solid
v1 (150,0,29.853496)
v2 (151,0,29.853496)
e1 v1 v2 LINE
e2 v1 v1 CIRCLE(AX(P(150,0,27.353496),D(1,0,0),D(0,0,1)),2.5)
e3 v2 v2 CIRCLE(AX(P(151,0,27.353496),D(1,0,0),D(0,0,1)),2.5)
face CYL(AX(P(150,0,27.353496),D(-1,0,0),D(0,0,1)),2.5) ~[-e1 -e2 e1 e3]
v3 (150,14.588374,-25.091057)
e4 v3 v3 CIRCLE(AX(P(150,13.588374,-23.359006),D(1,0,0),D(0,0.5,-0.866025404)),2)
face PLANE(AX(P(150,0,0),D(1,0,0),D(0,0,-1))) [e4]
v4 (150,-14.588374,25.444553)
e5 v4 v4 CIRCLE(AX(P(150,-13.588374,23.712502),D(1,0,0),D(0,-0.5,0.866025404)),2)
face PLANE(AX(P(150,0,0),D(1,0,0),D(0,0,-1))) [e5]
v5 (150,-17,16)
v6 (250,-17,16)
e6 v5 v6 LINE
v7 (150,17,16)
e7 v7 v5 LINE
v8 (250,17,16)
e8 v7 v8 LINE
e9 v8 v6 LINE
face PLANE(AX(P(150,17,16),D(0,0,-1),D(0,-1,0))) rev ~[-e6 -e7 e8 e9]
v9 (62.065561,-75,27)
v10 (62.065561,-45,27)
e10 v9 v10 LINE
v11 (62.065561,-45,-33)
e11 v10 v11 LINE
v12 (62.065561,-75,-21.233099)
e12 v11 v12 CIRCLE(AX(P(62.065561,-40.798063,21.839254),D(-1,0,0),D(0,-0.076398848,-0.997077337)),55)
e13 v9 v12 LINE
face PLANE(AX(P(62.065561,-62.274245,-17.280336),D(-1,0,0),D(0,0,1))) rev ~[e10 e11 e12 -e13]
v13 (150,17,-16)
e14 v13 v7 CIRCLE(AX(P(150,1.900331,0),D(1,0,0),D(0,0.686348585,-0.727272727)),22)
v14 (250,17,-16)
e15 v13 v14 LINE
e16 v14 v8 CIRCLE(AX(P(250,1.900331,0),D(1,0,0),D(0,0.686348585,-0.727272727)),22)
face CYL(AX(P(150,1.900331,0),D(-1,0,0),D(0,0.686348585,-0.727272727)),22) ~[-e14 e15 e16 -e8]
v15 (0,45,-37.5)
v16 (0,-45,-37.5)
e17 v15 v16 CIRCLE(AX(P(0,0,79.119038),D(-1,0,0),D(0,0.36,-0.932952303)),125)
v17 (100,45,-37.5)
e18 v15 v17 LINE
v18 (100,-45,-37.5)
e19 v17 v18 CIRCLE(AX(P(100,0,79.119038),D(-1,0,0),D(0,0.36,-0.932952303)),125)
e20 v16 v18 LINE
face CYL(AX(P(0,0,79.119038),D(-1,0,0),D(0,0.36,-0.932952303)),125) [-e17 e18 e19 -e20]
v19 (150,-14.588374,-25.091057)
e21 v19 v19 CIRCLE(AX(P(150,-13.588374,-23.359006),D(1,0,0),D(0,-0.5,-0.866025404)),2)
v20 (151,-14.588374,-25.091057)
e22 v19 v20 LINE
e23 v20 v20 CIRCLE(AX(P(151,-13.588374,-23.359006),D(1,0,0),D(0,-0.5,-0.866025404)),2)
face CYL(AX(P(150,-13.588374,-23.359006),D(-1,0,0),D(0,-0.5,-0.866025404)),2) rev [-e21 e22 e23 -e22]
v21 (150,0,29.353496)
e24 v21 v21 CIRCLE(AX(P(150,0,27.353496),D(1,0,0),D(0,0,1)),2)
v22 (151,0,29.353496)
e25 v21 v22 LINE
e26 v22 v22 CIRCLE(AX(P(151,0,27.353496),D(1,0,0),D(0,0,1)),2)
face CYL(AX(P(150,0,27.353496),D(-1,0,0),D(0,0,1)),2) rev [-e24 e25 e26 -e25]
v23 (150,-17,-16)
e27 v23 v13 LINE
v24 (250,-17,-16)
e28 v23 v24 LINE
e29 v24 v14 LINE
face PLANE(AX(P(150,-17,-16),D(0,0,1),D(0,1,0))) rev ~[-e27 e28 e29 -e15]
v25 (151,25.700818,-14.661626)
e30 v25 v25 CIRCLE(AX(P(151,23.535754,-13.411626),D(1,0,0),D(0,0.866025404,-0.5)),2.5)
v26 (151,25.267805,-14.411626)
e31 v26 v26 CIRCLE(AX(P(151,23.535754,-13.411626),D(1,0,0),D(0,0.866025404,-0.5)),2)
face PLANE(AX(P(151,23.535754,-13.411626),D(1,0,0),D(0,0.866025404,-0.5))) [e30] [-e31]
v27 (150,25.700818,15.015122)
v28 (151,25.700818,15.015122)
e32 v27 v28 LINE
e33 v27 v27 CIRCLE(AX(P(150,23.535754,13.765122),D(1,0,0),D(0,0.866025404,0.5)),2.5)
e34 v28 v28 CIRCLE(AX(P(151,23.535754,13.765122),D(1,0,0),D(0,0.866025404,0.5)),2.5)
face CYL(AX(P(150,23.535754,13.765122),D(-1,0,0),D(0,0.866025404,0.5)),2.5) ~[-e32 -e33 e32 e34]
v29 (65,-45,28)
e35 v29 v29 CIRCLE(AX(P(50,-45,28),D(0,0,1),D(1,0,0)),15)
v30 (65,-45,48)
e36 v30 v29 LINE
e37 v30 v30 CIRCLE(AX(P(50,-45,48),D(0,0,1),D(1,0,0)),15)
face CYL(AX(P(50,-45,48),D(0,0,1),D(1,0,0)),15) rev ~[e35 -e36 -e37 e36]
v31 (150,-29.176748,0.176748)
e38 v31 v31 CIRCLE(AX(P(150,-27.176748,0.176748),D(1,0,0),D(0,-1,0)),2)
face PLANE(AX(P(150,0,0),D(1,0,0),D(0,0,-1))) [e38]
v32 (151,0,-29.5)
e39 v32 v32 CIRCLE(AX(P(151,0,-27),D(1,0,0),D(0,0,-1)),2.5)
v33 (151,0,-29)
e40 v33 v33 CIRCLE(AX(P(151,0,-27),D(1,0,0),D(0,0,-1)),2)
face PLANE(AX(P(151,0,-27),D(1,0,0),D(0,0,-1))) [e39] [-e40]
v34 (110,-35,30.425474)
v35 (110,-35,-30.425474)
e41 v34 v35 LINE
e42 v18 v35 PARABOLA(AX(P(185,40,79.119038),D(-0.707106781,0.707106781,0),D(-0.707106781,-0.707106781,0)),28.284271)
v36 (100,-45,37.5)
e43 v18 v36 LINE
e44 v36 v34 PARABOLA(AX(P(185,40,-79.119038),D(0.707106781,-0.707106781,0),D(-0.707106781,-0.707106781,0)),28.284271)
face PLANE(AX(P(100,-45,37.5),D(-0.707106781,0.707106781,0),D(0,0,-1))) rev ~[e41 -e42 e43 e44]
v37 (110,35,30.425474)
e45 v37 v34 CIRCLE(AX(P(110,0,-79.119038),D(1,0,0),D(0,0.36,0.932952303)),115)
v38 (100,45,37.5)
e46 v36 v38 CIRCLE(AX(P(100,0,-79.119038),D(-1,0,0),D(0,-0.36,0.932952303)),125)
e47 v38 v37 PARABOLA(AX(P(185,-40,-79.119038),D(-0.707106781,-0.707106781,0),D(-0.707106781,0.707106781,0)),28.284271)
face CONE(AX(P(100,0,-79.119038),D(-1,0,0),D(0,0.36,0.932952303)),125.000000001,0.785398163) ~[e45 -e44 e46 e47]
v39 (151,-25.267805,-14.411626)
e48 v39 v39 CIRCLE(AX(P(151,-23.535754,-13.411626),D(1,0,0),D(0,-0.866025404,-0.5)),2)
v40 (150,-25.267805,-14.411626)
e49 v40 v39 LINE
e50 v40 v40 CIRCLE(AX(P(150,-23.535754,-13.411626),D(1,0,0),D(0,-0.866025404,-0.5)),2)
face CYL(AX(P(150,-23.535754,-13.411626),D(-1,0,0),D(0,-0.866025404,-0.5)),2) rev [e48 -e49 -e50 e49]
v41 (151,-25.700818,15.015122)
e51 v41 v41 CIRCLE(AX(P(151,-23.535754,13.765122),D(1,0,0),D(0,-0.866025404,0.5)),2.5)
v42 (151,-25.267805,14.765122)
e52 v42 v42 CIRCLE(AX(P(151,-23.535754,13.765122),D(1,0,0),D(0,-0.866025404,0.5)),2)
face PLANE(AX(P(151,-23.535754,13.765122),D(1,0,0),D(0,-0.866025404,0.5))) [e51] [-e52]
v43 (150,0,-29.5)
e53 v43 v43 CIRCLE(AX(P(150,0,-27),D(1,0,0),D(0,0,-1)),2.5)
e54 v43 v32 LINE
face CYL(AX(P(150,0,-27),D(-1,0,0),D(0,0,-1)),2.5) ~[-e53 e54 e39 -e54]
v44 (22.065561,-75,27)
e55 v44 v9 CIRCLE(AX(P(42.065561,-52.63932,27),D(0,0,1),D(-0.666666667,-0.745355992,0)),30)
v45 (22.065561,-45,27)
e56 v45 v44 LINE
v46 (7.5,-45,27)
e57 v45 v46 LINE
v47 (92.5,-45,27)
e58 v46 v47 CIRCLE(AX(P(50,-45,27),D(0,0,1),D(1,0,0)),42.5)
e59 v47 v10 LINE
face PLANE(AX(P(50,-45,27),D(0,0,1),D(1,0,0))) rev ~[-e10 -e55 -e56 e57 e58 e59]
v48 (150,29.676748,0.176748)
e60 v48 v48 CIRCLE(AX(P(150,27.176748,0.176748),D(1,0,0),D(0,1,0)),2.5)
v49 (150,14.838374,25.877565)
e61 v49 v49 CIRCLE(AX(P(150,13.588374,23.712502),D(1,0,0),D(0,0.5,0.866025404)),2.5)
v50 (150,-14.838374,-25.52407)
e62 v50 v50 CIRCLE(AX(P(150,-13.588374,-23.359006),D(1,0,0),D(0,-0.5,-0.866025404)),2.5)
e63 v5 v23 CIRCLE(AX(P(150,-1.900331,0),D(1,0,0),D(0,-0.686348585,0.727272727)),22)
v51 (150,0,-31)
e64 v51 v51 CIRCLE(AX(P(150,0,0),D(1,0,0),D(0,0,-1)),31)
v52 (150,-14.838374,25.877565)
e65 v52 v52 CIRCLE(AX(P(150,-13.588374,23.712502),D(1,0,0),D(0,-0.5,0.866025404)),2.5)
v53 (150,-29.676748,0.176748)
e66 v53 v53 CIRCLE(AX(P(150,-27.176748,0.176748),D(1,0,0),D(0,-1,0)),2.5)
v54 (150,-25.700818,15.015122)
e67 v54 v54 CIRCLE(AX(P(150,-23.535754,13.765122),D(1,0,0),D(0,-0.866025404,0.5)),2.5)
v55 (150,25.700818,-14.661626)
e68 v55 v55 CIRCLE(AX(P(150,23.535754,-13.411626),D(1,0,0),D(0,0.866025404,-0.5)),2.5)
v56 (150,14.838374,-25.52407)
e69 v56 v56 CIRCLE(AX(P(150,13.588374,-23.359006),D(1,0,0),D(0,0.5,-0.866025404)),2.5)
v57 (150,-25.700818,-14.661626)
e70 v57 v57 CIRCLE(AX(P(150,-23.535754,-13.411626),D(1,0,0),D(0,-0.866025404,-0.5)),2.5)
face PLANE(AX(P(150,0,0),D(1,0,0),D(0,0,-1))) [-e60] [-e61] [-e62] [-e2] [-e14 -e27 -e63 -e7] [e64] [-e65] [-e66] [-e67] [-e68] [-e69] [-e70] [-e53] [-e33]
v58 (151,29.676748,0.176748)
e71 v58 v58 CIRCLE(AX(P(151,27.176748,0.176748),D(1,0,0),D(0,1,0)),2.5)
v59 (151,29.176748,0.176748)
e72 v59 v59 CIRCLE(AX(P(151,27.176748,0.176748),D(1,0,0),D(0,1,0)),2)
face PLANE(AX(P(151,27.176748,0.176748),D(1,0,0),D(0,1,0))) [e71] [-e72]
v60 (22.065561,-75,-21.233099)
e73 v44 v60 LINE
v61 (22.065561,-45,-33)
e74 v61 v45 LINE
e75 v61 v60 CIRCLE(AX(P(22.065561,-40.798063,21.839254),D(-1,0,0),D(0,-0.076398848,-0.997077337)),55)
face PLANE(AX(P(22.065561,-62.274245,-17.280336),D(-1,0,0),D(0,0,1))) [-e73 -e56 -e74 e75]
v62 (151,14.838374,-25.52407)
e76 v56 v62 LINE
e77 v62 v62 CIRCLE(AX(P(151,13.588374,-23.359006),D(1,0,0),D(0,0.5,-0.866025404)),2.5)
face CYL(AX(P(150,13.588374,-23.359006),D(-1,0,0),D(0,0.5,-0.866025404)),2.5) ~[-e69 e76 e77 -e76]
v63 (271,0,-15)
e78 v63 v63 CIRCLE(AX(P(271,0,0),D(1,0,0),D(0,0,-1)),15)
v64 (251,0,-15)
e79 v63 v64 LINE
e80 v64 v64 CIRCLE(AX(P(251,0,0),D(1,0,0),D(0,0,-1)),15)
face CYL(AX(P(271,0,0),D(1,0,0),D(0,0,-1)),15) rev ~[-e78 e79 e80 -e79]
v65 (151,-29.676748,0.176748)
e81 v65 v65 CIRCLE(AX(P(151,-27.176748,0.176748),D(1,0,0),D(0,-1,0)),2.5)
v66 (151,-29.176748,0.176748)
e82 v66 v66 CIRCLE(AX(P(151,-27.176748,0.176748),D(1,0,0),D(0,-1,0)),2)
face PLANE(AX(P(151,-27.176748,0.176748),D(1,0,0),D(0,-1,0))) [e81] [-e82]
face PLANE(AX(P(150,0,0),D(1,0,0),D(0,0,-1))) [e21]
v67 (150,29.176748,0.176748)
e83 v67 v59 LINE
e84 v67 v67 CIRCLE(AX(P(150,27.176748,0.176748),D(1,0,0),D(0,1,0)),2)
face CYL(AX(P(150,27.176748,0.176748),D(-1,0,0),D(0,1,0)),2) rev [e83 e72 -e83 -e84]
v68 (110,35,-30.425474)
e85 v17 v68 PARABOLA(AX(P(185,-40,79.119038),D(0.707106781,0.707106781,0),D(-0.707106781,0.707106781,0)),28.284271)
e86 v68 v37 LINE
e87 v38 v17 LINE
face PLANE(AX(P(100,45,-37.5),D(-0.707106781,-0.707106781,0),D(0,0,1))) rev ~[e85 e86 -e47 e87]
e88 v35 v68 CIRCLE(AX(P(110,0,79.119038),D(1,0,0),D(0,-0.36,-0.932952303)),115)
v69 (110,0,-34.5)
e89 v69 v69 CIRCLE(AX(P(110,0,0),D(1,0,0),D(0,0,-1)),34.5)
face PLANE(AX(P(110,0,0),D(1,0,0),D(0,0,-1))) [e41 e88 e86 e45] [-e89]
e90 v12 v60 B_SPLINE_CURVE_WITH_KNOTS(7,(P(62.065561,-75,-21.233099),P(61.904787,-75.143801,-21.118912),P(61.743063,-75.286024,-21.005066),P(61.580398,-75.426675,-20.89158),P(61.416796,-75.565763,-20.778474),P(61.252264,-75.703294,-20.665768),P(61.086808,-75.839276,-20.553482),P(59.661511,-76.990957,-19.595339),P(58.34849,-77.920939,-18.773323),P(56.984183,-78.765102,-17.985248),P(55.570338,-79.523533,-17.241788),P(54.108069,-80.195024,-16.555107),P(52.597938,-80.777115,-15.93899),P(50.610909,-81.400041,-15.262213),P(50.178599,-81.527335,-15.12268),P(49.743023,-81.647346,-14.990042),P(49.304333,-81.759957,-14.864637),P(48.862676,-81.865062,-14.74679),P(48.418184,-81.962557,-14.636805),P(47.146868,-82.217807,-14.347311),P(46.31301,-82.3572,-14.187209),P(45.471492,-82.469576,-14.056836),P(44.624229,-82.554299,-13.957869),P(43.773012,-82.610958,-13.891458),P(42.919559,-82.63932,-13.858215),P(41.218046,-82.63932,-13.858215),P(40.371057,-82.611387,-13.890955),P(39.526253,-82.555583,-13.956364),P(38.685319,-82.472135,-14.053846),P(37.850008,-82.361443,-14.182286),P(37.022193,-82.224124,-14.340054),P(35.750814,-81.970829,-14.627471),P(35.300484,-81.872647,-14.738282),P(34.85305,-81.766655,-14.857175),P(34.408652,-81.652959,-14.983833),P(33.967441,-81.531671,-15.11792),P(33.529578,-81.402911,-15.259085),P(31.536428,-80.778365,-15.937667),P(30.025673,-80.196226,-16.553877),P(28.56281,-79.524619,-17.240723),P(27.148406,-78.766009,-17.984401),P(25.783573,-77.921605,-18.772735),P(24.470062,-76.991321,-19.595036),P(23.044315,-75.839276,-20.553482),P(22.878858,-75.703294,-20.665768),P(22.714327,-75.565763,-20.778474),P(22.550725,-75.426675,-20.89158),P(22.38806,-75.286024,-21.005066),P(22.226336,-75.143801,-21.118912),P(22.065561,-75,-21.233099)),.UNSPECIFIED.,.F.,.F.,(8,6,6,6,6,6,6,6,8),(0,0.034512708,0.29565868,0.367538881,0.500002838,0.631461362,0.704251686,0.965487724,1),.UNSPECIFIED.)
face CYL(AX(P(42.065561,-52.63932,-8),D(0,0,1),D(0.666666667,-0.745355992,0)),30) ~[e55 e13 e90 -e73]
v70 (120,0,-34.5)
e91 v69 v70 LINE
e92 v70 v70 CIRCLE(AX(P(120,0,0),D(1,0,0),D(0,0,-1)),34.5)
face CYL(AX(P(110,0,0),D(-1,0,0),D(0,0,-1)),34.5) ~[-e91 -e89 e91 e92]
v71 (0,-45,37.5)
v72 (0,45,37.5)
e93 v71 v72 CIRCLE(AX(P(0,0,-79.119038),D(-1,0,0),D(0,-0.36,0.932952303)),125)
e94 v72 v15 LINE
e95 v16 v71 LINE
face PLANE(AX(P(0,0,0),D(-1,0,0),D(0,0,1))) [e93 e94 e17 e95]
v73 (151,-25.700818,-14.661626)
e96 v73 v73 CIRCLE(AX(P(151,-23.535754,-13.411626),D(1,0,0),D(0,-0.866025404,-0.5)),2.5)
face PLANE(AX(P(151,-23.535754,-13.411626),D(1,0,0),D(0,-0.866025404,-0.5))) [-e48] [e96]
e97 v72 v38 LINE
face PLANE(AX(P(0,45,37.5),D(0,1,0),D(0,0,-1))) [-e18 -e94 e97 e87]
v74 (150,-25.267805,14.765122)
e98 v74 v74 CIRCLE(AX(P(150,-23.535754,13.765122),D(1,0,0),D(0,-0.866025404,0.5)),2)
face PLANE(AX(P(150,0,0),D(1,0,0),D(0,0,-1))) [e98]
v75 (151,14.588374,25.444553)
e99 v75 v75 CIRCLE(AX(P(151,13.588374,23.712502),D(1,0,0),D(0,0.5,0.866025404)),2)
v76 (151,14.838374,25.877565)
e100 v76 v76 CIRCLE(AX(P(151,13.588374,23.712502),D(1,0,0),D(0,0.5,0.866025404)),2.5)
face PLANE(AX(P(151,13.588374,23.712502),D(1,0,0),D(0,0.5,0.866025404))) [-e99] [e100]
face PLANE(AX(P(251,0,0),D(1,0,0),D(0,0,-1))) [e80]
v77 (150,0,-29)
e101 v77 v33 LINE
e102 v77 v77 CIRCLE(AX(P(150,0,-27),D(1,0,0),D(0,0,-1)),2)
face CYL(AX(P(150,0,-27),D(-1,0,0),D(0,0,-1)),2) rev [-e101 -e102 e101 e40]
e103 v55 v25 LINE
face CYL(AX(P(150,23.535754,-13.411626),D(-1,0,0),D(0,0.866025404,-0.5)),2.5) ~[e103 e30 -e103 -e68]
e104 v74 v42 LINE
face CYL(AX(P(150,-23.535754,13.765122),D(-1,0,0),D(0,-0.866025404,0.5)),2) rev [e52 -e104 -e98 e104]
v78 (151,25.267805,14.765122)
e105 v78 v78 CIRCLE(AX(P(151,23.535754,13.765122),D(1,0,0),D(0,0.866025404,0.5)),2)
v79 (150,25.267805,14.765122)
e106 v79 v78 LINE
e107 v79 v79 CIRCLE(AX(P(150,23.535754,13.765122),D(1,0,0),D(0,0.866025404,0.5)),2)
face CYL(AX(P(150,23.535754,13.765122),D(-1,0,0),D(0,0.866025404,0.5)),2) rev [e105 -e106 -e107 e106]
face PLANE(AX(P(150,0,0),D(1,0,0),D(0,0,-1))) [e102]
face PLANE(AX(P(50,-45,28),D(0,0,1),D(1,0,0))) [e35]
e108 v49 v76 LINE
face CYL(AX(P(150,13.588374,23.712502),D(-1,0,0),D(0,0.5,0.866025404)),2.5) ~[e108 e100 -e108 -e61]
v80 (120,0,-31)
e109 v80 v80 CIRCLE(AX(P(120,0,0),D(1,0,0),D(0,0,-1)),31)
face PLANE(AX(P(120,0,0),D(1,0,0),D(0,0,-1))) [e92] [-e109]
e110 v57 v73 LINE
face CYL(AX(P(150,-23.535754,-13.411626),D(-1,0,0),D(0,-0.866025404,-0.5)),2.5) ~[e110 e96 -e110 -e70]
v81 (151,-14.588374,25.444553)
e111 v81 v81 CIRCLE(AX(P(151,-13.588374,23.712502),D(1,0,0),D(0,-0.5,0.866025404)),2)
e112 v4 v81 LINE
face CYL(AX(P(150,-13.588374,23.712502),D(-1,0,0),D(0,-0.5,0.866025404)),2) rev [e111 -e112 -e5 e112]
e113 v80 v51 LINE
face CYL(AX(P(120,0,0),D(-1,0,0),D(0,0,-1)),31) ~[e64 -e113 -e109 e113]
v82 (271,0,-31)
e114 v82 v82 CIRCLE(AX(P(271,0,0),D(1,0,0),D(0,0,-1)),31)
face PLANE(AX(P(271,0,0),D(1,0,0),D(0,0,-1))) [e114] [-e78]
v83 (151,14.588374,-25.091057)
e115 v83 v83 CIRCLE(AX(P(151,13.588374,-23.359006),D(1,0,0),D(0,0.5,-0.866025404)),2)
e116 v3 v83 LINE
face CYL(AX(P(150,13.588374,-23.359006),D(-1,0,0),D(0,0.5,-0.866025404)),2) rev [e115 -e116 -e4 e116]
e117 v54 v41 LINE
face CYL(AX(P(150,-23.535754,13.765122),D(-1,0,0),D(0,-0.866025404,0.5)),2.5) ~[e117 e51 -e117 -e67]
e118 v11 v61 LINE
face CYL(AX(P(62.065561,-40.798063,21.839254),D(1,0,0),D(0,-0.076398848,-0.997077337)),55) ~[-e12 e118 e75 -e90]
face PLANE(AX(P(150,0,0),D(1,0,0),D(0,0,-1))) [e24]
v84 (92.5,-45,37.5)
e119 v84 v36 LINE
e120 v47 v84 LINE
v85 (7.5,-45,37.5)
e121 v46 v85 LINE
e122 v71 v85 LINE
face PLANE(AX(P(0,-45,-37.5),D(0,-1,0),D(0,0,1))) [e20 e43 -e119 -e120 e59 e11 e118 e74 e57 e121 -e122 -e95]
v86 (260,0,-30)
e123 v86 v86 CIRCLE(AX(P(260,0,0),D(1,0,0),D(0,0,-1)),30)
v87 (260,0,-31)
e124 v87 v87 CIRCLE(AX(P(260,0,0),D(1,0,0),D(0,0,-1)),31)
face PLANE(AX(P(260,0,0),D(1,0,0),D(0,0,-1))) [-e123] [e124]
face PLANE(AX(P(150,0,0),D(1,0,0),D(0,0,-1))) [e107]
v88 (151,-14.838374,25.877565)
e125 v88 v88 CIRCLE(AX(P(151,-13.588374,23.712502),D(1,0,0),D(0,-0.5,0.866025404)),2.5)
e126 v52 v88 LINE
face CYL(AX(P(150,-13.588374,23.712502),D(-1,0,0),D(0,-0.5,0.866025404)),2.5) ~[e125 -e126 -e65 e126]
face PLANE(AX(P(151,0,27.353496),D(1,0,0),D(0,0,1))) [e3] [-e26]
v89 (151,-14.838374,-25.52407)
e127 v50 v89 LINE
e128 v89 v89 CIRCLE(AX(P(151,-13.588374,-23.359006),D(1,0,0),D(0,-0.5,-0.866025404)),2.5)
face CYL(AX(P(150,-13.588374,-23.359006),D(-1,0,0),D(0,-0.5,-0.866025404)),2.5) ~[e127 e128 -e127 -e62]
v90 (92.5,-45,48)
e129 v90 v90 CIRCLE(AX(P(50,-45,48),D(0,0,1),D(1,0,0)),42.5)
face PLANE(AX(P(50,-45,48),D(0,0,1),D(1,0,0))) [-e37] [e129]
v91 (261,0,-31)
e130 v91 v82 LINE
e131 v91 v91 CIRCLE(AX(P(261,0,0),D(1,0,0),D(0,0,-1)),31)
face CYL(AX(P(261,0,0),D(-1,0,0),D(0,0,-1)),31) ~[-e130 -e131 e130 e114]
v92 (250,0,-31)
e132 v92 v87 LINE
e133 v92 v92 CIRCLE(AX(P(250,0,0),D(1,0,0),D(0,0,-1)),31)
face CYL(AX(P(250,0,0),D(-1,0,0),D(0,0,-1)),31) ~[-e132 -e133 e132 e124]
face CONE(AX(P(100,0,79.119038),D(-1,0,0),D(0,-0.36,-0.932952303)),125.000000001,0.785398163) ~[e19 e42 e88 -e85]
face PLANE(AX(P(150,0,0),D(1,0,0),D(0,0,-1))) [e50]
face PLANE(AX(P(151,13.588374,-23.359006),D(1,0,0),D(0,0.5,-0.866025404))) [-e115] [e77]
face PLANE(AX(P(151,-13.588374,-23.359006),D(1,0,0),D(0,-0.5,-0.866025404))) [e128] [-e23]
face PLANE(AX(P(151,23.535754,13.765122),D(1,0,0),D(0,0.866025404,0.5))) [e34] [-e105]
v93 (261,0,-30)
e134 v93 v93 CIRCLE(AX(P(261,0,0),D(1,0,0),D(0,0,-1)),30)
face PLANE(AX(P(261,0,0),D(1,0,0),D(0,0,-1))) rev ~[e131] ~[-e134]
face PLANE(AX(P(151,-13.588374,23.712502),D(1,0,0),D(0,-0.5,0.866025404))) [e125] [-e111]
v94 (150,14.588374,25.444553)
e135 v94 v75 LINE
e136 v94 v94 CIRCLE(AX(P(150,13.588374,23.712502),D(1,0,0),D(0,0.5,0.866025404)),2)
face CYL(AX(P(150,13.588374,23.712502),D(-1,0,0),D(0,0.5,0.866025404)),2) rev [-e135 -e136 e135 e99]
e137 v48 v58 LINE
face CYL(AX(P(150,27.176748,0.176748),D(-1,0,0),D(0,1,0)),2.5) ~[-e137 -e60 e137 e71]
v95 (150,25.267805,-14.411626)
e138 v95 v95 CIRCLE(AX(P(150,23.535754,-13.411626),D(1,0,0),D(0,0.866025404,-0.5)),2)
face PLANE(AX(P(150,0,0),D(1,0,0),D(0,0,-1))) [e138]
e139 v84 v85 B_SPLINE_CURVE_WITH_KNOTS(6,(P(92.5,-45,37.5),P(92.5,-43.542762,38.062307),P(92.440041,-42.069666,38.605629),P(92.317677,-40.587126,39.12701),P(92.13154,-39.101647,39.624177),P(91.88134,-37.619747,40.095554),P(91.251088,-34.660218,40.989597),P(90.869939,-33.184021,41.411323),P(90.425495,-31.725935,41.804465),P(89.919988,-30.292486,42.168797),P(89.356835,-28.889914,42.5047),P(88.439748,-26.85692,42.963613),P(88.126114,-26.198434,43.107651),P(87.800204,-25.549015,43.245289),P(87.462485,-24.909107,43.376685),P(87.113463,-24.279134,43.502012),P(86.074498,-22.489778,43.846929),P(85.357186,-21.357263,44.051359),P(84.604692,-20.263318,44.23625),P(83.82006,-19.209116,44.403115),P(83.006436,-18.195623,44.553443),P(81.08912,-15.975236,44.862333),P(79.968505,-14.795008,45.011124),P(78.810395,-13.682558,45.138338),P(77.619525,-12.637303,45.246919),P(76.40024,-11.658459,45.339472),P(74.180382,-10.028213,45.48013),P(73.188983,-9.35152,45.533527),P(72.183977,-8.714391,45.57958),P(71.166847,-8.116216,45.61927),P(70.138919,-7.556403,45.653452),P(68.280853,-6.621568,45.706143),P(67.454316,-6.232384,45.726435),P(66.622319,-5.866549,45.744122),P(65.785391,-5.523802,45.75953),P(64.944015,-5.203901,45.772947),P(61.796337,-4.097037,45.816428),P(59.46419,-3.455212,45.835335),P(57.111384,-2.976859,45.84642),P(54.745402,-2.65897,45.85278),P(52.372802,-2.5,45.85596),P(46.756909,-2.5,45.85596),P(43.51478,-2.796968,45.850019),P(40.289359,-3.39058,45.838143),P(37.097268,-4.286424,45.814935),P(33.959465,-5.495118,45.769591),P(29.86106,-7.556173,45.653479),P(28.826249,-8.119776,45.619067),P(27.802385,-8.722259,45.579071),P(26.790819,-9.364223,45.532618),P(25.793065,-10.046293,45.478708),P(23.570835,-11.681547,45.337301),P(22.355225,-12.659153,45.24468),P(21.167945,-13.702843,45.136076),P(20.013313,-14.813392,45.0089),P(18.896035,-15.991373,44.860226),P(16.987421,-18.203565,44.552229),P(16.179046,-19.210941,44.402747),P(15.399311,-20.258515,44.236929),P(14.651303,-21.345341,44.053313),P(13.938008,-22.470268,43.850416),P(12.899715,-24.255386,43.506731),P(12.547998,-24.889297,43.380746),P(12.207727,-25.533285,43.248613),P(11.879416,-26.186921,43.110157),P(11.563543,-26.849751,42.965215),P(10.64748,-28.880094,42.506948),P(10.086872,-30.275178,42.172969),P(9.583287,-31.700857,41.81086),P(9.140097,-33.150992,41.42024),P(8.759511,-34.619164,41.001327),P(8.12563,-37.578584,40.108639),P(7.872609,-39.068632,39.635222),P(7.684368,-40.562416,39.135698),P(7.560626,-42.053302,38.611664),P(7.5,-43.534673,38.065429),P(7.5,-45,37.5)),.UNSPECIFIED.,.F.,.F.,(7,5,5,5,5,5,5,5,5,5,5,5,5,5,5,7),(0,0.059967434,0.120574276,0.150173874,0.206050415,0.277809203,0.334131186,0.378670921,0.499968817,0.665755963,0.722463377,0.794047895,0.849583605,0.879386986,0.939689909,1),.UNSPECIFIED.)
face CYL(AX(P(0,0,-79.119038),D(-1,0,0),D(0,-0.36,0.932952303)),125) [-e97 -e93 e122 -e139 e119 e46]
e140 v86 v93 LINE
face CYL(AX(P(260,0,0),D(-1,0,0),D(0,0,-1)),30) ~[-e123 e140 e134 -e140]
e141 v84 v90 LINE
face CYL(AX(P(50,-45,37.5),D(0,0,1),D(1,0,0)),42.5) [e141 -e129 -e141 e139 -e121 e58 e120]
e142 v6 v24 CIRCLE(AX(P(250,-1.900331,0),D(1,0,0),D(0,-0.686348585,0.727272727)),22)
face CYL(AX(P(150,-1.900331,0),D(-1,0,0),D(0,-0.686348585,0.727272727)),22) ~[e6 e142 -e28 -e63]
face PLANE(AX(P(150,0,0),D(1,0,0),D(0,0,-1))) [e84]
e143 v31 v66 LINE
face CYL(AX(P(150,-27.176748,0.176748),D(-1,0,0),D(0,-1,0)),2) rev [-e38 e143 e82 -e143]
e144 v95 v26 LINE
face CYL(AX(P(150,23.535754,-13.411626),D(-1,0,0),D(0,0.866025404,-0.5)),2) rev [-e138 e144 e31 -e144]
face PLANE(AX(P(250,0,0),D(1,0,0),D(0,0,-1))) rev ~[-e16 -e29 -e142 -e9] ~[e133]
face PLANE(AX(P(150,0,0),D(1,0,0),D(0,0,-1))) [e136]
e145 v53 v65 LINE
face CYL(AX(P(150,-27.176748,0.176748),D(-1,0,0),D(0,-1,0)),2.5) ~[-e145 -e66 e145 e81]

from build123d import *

# Parameters (mm, degrees)
BOSS_EXTRUDE1_DEPTH  = 100
BOSS_EXTRUDE2_DEPTH  = 10
BOSS_EXTRUDE2_DRAFT  = 45
SKETCH3_R            = 34.5
BOSS_EXTRUDE3_DEPTH  = 10
SKETCH4_R            = 31
BOSS_EXTRUDE4_DEPTH  = 30
SKETCH5_R            = 2.5
SKETCH5_R_2          = 2
BOSS_EXTRUDE5_DEPTH  = 1
CIRPATTERN1_COUNT    = 12
BOSS_EXTRUDE6_DEPTH  = 100
SKETCH7_R            = 31
BOSS_EXTRUDE7_DEPTH  = 10
SKETCH8_R            = 30
BOSS_EXTRUDE8_DEPTH  = 1
SKETCH9_R            = 31
BOSS_EXTRUDE9_DEPTH  = 10
SKETCH10_R           = 42.5
BOSS_EXTRUDE10_DEPTH = 10.5
BOSS_EXTRUDE11_DEPTH = 35
BOSS_EXTRUDE12_DEPTH = 40
CUT_EXTRUDE1_DEPTH   = 40
SKETCH14_R           = 15
CUT_EXTRUDE2_DEPTH   = 20
SKETCH15_R           = 15
CUT_EXTRUDE3_DEPTH   = 20


with BuildPart() as part:
    # Sketch1 → Boss-Extrude1 (new body)
    with BuildSketch(Plane(origin=(0, 0, 0), x_dir=(0, 0, -1), z_dir=(1, 0, 0))):
        with BuildLine():
            Line((-37.5, 45), (37.5, 45))
            ThreePointArc((37.5, 45), (45.880962103, 0), (37.5, -45))
            Line((37.5, -45), (-37.5, -45))
            ThreePointArc((-37.5, -45), (-45.880962103, 0), (-37.5, 45))
        make_face()
    extrude(amount=BOSS_EXTRUDE1_DEPTH)


with BuildPart() as boss_extrude2_tool:
    # Sketch2 → Boss-Extrude2 (with draft: the straight prism first)
    with BuildSketch(Plane(origin=(100, 0, 0), x_dir=(0, 0, -1), z_dir=(1, 0, 0))):
        with BuildLine():
            Line((37.5, 45), (-37.5, 45))
            ThreePointArc((-37.5, 45), (-45.880962103, 0), (-37.5, -45))
            Line((-37.5, -45), (37.5, -45))
            ThreePointArc((37.5, -45), (45.880962103, 0), (37.5, 45))
        make_face()
    extrude(amount=BOSS_EXTRUDE2_DEPTH)
    # Boss-Extrude2: the draft: its side faces are tilted about the plane it starts from
    boss_extrude2_sides = [boss_extrude2_tool.faces().sort_by_distance(p)[0] for p in [
        (105, -45, 0),
        (105, 0, -45.880962103),
        (105, 45, 0),
        (105, 0, 45.880962103),
    ]]
    draft(boss_extrude2_sides, Plane(origin=(100, 0, 0), x_dir=(0, 0, -1), z_dir=(1, 0, 0)), BOSS_EXTRUDE2_DRAFT)


with BuildPart() as part_1:
    add(part.part)

    # Boss-Extrude2: add boss_extrude2_tool
    add(boss_extrude2_tool.part)

    # Sketch3 → Boss-Extrude3 (add)
    with BuildSketch(Plane(origin=(110, 0, 0), x_dir=(0, 0, -1), z_dir=(1, 0, 0))):
        Circle(SKETCH3_R)
    extrude(amount=BOSS_EXTRUDE3_DEPTH)

    # Sketch4 → Boss-Extrude4 (add)
    with BuildSketch(Plane(origin=(120, 0, 0), x_dir=(0, 0, -1), z_dir=(1, 0, 0))):
        Circle(SKETCH4_R)
    extrude(amount=BOSS_EXTRUDE4_DEPTH)

    # Sketch5 → Boss-Extrude5 (add)
    with BuildSketch(Plane(origin=(150, 0, 0), x_dir=(0, 0, -1), z_dir=(1, 0, 0))):
        with Locations((27, 0)):
            Circle(SKETCH5_R)
        with Locations((27, 0)):
            Circle(SKETCH5_R_2, mode=Mode.SUBTRACT)
    boss_extrude5 = extrude(amount=BOSS_EXTRUDE5_DEPTH)

    # CirPattern1: Boss-Extrude5 ×12 about axis
    cirpattern1_axis = Axis((0, 0, 0.17674784), (1, 0, 0))
    for i in range(1, CIRPATTERN1_COUNT):
        add(boss_extrude5.rotate(cirpattern1_axis, i * 360 / CIRPATTERN1_COUNT))

    # Sketch6 → Boss-Extrude6 (add)
    with BuildSketch(Plane(origin=(150, 0, 0), x_dir=(0, 0, -1), z_dir=(1, 0, 0))):
        with BuildLine():
            Line((16, 0), (16, 17))
            ThreePointArc((16, 17), (0, 23.900331129), (-16, 17))
            Line((-16, 17), (-16, 0))
            Line((-16, 0), (-16, -17))
            ThreePointArc((-16, -17), (0, -23.900331129), (16, -17))
            Line((16, -17), (16, 0))
        make_face()
    extrude(amount=BOSS_EXTRUDE6_DEPTH)

    # Sketch7 → Boss-Extrude7 (add)
    with BuildSketch(Plane(origin=(250, 0, 0), x_dir=(0, 0, -1), z_dir=(1, 0, 0))):
        Circle(SKETCH7_R)
    extrude(amount=BOSS_EXTRUDE7_DEPTH)

    # Sketch8 → Boss-Extrude8 (add)
    with BuildSketch(Plane(origin=(260, 0, 0), x_dir=(0, 0, -1), z_dir=(1, 0, 0))):
        Circle(SKETCH8_R)
    extrude(amount=BOSS_EXTRUDE8_DEPTH)

    # Sketch9 → Boss-Extrude9 (add)
    with BuildSketch(Plane(origin=(261, 0, 0), x_dir=(0, 0, -1), z_dir=(1, 0, 0))):
        Circle(SKETCH9_R)
    extrude(amount=BOSS_EXTRUDE9_DEPTH)

    # Sketch10 → Boss-Extrude10 (add, symmetric)
    with BuildSketch(Plane.XY.offset(37.5)):
        with Locations((50, -45)):
            Circle(SKETCH10_R)
    extrude(amount=BOSS_EXTRUDE10_DEPTH, both=True)

    # Sketch11 → Boss-Extrude11 (add)
    with BuildSketch(Plane(origin=(0, 0, 27), x_dir=(-1, 0, 0), z_dir=(0, 0, -1))):
        with BuildLine():
            Line((-62.06556146, -45), (-22.06556146, -45))
            Line((-22.06556146, -45), (-22.06556146, -75))
            ThreePointArc((-22.06556146, -75), (-42.06556146, -82.639320225), (-62.06556146, -75))
            Line((-62.06556146, -75), (-62.06556146, -45))
        make_face()
    extrude(amount=BOSS_EXTRUDE11_DEPTH)

    # Sketch12 → Boss-Extrude12 (add)
    with BuildSketch(Plane(origin=(62.06556146, 0, 0), x_dir=(0, 0, -1), z_dir=(1, 0, 0))):
        with BuildLine():
            Line((8, -45), (33, -45))
            ThreePointArc((33, -45), (25.421855105, -68.929675658), (8, -87))
            Line((8, -87), (8, -45))
        make_face()
    extrude(amount=-BOSS_EXTRUDE12_DEPTH)

    # Sketch13 → Cut-Extrude1 (cut)
    with BuildSketch(Plane.XY.offset(-8)):
        with BuildLine():
            Line((22.06556146, -75), (22.06556146, -87))
            Line((22.06556146, -87), (62.06556146, -87))
            Line((62.06556146, -87), (62.06556146, -75))
            ThreePointArc((62.06556146, -75), (42.06556146, -82.639320225), (22.06556146, -75))
        make_face()
    extrude(amount=-CUT_EXTRUDE1_DEPTH, mode=Mode.SUBTRACT)

    # Sketch14 → Cut-Extrude2 (cut)
    with BuildSketch(Plane(origin=(271, 0, 0), x_dir=(0, 0, -1), z_dir=(1, 0, 0))):
        Circle(SKETCH14_R)
    extrude(amount=-CUT_EXTRUDE2_DEPTH, mode=Mode.SUBTRACT)

    # Sketch15 → Cut-Extrude3 (cut)
    with BuildSketch(Plane.XY.offset(48)):
        with Locations((50, -45)):
            Circle(SKETCH15_R)
    extrude(amount=-CUT_EXTRUDE3_DEPTH, mode=Mode.SUBTRACT)


solid = part_1.part
